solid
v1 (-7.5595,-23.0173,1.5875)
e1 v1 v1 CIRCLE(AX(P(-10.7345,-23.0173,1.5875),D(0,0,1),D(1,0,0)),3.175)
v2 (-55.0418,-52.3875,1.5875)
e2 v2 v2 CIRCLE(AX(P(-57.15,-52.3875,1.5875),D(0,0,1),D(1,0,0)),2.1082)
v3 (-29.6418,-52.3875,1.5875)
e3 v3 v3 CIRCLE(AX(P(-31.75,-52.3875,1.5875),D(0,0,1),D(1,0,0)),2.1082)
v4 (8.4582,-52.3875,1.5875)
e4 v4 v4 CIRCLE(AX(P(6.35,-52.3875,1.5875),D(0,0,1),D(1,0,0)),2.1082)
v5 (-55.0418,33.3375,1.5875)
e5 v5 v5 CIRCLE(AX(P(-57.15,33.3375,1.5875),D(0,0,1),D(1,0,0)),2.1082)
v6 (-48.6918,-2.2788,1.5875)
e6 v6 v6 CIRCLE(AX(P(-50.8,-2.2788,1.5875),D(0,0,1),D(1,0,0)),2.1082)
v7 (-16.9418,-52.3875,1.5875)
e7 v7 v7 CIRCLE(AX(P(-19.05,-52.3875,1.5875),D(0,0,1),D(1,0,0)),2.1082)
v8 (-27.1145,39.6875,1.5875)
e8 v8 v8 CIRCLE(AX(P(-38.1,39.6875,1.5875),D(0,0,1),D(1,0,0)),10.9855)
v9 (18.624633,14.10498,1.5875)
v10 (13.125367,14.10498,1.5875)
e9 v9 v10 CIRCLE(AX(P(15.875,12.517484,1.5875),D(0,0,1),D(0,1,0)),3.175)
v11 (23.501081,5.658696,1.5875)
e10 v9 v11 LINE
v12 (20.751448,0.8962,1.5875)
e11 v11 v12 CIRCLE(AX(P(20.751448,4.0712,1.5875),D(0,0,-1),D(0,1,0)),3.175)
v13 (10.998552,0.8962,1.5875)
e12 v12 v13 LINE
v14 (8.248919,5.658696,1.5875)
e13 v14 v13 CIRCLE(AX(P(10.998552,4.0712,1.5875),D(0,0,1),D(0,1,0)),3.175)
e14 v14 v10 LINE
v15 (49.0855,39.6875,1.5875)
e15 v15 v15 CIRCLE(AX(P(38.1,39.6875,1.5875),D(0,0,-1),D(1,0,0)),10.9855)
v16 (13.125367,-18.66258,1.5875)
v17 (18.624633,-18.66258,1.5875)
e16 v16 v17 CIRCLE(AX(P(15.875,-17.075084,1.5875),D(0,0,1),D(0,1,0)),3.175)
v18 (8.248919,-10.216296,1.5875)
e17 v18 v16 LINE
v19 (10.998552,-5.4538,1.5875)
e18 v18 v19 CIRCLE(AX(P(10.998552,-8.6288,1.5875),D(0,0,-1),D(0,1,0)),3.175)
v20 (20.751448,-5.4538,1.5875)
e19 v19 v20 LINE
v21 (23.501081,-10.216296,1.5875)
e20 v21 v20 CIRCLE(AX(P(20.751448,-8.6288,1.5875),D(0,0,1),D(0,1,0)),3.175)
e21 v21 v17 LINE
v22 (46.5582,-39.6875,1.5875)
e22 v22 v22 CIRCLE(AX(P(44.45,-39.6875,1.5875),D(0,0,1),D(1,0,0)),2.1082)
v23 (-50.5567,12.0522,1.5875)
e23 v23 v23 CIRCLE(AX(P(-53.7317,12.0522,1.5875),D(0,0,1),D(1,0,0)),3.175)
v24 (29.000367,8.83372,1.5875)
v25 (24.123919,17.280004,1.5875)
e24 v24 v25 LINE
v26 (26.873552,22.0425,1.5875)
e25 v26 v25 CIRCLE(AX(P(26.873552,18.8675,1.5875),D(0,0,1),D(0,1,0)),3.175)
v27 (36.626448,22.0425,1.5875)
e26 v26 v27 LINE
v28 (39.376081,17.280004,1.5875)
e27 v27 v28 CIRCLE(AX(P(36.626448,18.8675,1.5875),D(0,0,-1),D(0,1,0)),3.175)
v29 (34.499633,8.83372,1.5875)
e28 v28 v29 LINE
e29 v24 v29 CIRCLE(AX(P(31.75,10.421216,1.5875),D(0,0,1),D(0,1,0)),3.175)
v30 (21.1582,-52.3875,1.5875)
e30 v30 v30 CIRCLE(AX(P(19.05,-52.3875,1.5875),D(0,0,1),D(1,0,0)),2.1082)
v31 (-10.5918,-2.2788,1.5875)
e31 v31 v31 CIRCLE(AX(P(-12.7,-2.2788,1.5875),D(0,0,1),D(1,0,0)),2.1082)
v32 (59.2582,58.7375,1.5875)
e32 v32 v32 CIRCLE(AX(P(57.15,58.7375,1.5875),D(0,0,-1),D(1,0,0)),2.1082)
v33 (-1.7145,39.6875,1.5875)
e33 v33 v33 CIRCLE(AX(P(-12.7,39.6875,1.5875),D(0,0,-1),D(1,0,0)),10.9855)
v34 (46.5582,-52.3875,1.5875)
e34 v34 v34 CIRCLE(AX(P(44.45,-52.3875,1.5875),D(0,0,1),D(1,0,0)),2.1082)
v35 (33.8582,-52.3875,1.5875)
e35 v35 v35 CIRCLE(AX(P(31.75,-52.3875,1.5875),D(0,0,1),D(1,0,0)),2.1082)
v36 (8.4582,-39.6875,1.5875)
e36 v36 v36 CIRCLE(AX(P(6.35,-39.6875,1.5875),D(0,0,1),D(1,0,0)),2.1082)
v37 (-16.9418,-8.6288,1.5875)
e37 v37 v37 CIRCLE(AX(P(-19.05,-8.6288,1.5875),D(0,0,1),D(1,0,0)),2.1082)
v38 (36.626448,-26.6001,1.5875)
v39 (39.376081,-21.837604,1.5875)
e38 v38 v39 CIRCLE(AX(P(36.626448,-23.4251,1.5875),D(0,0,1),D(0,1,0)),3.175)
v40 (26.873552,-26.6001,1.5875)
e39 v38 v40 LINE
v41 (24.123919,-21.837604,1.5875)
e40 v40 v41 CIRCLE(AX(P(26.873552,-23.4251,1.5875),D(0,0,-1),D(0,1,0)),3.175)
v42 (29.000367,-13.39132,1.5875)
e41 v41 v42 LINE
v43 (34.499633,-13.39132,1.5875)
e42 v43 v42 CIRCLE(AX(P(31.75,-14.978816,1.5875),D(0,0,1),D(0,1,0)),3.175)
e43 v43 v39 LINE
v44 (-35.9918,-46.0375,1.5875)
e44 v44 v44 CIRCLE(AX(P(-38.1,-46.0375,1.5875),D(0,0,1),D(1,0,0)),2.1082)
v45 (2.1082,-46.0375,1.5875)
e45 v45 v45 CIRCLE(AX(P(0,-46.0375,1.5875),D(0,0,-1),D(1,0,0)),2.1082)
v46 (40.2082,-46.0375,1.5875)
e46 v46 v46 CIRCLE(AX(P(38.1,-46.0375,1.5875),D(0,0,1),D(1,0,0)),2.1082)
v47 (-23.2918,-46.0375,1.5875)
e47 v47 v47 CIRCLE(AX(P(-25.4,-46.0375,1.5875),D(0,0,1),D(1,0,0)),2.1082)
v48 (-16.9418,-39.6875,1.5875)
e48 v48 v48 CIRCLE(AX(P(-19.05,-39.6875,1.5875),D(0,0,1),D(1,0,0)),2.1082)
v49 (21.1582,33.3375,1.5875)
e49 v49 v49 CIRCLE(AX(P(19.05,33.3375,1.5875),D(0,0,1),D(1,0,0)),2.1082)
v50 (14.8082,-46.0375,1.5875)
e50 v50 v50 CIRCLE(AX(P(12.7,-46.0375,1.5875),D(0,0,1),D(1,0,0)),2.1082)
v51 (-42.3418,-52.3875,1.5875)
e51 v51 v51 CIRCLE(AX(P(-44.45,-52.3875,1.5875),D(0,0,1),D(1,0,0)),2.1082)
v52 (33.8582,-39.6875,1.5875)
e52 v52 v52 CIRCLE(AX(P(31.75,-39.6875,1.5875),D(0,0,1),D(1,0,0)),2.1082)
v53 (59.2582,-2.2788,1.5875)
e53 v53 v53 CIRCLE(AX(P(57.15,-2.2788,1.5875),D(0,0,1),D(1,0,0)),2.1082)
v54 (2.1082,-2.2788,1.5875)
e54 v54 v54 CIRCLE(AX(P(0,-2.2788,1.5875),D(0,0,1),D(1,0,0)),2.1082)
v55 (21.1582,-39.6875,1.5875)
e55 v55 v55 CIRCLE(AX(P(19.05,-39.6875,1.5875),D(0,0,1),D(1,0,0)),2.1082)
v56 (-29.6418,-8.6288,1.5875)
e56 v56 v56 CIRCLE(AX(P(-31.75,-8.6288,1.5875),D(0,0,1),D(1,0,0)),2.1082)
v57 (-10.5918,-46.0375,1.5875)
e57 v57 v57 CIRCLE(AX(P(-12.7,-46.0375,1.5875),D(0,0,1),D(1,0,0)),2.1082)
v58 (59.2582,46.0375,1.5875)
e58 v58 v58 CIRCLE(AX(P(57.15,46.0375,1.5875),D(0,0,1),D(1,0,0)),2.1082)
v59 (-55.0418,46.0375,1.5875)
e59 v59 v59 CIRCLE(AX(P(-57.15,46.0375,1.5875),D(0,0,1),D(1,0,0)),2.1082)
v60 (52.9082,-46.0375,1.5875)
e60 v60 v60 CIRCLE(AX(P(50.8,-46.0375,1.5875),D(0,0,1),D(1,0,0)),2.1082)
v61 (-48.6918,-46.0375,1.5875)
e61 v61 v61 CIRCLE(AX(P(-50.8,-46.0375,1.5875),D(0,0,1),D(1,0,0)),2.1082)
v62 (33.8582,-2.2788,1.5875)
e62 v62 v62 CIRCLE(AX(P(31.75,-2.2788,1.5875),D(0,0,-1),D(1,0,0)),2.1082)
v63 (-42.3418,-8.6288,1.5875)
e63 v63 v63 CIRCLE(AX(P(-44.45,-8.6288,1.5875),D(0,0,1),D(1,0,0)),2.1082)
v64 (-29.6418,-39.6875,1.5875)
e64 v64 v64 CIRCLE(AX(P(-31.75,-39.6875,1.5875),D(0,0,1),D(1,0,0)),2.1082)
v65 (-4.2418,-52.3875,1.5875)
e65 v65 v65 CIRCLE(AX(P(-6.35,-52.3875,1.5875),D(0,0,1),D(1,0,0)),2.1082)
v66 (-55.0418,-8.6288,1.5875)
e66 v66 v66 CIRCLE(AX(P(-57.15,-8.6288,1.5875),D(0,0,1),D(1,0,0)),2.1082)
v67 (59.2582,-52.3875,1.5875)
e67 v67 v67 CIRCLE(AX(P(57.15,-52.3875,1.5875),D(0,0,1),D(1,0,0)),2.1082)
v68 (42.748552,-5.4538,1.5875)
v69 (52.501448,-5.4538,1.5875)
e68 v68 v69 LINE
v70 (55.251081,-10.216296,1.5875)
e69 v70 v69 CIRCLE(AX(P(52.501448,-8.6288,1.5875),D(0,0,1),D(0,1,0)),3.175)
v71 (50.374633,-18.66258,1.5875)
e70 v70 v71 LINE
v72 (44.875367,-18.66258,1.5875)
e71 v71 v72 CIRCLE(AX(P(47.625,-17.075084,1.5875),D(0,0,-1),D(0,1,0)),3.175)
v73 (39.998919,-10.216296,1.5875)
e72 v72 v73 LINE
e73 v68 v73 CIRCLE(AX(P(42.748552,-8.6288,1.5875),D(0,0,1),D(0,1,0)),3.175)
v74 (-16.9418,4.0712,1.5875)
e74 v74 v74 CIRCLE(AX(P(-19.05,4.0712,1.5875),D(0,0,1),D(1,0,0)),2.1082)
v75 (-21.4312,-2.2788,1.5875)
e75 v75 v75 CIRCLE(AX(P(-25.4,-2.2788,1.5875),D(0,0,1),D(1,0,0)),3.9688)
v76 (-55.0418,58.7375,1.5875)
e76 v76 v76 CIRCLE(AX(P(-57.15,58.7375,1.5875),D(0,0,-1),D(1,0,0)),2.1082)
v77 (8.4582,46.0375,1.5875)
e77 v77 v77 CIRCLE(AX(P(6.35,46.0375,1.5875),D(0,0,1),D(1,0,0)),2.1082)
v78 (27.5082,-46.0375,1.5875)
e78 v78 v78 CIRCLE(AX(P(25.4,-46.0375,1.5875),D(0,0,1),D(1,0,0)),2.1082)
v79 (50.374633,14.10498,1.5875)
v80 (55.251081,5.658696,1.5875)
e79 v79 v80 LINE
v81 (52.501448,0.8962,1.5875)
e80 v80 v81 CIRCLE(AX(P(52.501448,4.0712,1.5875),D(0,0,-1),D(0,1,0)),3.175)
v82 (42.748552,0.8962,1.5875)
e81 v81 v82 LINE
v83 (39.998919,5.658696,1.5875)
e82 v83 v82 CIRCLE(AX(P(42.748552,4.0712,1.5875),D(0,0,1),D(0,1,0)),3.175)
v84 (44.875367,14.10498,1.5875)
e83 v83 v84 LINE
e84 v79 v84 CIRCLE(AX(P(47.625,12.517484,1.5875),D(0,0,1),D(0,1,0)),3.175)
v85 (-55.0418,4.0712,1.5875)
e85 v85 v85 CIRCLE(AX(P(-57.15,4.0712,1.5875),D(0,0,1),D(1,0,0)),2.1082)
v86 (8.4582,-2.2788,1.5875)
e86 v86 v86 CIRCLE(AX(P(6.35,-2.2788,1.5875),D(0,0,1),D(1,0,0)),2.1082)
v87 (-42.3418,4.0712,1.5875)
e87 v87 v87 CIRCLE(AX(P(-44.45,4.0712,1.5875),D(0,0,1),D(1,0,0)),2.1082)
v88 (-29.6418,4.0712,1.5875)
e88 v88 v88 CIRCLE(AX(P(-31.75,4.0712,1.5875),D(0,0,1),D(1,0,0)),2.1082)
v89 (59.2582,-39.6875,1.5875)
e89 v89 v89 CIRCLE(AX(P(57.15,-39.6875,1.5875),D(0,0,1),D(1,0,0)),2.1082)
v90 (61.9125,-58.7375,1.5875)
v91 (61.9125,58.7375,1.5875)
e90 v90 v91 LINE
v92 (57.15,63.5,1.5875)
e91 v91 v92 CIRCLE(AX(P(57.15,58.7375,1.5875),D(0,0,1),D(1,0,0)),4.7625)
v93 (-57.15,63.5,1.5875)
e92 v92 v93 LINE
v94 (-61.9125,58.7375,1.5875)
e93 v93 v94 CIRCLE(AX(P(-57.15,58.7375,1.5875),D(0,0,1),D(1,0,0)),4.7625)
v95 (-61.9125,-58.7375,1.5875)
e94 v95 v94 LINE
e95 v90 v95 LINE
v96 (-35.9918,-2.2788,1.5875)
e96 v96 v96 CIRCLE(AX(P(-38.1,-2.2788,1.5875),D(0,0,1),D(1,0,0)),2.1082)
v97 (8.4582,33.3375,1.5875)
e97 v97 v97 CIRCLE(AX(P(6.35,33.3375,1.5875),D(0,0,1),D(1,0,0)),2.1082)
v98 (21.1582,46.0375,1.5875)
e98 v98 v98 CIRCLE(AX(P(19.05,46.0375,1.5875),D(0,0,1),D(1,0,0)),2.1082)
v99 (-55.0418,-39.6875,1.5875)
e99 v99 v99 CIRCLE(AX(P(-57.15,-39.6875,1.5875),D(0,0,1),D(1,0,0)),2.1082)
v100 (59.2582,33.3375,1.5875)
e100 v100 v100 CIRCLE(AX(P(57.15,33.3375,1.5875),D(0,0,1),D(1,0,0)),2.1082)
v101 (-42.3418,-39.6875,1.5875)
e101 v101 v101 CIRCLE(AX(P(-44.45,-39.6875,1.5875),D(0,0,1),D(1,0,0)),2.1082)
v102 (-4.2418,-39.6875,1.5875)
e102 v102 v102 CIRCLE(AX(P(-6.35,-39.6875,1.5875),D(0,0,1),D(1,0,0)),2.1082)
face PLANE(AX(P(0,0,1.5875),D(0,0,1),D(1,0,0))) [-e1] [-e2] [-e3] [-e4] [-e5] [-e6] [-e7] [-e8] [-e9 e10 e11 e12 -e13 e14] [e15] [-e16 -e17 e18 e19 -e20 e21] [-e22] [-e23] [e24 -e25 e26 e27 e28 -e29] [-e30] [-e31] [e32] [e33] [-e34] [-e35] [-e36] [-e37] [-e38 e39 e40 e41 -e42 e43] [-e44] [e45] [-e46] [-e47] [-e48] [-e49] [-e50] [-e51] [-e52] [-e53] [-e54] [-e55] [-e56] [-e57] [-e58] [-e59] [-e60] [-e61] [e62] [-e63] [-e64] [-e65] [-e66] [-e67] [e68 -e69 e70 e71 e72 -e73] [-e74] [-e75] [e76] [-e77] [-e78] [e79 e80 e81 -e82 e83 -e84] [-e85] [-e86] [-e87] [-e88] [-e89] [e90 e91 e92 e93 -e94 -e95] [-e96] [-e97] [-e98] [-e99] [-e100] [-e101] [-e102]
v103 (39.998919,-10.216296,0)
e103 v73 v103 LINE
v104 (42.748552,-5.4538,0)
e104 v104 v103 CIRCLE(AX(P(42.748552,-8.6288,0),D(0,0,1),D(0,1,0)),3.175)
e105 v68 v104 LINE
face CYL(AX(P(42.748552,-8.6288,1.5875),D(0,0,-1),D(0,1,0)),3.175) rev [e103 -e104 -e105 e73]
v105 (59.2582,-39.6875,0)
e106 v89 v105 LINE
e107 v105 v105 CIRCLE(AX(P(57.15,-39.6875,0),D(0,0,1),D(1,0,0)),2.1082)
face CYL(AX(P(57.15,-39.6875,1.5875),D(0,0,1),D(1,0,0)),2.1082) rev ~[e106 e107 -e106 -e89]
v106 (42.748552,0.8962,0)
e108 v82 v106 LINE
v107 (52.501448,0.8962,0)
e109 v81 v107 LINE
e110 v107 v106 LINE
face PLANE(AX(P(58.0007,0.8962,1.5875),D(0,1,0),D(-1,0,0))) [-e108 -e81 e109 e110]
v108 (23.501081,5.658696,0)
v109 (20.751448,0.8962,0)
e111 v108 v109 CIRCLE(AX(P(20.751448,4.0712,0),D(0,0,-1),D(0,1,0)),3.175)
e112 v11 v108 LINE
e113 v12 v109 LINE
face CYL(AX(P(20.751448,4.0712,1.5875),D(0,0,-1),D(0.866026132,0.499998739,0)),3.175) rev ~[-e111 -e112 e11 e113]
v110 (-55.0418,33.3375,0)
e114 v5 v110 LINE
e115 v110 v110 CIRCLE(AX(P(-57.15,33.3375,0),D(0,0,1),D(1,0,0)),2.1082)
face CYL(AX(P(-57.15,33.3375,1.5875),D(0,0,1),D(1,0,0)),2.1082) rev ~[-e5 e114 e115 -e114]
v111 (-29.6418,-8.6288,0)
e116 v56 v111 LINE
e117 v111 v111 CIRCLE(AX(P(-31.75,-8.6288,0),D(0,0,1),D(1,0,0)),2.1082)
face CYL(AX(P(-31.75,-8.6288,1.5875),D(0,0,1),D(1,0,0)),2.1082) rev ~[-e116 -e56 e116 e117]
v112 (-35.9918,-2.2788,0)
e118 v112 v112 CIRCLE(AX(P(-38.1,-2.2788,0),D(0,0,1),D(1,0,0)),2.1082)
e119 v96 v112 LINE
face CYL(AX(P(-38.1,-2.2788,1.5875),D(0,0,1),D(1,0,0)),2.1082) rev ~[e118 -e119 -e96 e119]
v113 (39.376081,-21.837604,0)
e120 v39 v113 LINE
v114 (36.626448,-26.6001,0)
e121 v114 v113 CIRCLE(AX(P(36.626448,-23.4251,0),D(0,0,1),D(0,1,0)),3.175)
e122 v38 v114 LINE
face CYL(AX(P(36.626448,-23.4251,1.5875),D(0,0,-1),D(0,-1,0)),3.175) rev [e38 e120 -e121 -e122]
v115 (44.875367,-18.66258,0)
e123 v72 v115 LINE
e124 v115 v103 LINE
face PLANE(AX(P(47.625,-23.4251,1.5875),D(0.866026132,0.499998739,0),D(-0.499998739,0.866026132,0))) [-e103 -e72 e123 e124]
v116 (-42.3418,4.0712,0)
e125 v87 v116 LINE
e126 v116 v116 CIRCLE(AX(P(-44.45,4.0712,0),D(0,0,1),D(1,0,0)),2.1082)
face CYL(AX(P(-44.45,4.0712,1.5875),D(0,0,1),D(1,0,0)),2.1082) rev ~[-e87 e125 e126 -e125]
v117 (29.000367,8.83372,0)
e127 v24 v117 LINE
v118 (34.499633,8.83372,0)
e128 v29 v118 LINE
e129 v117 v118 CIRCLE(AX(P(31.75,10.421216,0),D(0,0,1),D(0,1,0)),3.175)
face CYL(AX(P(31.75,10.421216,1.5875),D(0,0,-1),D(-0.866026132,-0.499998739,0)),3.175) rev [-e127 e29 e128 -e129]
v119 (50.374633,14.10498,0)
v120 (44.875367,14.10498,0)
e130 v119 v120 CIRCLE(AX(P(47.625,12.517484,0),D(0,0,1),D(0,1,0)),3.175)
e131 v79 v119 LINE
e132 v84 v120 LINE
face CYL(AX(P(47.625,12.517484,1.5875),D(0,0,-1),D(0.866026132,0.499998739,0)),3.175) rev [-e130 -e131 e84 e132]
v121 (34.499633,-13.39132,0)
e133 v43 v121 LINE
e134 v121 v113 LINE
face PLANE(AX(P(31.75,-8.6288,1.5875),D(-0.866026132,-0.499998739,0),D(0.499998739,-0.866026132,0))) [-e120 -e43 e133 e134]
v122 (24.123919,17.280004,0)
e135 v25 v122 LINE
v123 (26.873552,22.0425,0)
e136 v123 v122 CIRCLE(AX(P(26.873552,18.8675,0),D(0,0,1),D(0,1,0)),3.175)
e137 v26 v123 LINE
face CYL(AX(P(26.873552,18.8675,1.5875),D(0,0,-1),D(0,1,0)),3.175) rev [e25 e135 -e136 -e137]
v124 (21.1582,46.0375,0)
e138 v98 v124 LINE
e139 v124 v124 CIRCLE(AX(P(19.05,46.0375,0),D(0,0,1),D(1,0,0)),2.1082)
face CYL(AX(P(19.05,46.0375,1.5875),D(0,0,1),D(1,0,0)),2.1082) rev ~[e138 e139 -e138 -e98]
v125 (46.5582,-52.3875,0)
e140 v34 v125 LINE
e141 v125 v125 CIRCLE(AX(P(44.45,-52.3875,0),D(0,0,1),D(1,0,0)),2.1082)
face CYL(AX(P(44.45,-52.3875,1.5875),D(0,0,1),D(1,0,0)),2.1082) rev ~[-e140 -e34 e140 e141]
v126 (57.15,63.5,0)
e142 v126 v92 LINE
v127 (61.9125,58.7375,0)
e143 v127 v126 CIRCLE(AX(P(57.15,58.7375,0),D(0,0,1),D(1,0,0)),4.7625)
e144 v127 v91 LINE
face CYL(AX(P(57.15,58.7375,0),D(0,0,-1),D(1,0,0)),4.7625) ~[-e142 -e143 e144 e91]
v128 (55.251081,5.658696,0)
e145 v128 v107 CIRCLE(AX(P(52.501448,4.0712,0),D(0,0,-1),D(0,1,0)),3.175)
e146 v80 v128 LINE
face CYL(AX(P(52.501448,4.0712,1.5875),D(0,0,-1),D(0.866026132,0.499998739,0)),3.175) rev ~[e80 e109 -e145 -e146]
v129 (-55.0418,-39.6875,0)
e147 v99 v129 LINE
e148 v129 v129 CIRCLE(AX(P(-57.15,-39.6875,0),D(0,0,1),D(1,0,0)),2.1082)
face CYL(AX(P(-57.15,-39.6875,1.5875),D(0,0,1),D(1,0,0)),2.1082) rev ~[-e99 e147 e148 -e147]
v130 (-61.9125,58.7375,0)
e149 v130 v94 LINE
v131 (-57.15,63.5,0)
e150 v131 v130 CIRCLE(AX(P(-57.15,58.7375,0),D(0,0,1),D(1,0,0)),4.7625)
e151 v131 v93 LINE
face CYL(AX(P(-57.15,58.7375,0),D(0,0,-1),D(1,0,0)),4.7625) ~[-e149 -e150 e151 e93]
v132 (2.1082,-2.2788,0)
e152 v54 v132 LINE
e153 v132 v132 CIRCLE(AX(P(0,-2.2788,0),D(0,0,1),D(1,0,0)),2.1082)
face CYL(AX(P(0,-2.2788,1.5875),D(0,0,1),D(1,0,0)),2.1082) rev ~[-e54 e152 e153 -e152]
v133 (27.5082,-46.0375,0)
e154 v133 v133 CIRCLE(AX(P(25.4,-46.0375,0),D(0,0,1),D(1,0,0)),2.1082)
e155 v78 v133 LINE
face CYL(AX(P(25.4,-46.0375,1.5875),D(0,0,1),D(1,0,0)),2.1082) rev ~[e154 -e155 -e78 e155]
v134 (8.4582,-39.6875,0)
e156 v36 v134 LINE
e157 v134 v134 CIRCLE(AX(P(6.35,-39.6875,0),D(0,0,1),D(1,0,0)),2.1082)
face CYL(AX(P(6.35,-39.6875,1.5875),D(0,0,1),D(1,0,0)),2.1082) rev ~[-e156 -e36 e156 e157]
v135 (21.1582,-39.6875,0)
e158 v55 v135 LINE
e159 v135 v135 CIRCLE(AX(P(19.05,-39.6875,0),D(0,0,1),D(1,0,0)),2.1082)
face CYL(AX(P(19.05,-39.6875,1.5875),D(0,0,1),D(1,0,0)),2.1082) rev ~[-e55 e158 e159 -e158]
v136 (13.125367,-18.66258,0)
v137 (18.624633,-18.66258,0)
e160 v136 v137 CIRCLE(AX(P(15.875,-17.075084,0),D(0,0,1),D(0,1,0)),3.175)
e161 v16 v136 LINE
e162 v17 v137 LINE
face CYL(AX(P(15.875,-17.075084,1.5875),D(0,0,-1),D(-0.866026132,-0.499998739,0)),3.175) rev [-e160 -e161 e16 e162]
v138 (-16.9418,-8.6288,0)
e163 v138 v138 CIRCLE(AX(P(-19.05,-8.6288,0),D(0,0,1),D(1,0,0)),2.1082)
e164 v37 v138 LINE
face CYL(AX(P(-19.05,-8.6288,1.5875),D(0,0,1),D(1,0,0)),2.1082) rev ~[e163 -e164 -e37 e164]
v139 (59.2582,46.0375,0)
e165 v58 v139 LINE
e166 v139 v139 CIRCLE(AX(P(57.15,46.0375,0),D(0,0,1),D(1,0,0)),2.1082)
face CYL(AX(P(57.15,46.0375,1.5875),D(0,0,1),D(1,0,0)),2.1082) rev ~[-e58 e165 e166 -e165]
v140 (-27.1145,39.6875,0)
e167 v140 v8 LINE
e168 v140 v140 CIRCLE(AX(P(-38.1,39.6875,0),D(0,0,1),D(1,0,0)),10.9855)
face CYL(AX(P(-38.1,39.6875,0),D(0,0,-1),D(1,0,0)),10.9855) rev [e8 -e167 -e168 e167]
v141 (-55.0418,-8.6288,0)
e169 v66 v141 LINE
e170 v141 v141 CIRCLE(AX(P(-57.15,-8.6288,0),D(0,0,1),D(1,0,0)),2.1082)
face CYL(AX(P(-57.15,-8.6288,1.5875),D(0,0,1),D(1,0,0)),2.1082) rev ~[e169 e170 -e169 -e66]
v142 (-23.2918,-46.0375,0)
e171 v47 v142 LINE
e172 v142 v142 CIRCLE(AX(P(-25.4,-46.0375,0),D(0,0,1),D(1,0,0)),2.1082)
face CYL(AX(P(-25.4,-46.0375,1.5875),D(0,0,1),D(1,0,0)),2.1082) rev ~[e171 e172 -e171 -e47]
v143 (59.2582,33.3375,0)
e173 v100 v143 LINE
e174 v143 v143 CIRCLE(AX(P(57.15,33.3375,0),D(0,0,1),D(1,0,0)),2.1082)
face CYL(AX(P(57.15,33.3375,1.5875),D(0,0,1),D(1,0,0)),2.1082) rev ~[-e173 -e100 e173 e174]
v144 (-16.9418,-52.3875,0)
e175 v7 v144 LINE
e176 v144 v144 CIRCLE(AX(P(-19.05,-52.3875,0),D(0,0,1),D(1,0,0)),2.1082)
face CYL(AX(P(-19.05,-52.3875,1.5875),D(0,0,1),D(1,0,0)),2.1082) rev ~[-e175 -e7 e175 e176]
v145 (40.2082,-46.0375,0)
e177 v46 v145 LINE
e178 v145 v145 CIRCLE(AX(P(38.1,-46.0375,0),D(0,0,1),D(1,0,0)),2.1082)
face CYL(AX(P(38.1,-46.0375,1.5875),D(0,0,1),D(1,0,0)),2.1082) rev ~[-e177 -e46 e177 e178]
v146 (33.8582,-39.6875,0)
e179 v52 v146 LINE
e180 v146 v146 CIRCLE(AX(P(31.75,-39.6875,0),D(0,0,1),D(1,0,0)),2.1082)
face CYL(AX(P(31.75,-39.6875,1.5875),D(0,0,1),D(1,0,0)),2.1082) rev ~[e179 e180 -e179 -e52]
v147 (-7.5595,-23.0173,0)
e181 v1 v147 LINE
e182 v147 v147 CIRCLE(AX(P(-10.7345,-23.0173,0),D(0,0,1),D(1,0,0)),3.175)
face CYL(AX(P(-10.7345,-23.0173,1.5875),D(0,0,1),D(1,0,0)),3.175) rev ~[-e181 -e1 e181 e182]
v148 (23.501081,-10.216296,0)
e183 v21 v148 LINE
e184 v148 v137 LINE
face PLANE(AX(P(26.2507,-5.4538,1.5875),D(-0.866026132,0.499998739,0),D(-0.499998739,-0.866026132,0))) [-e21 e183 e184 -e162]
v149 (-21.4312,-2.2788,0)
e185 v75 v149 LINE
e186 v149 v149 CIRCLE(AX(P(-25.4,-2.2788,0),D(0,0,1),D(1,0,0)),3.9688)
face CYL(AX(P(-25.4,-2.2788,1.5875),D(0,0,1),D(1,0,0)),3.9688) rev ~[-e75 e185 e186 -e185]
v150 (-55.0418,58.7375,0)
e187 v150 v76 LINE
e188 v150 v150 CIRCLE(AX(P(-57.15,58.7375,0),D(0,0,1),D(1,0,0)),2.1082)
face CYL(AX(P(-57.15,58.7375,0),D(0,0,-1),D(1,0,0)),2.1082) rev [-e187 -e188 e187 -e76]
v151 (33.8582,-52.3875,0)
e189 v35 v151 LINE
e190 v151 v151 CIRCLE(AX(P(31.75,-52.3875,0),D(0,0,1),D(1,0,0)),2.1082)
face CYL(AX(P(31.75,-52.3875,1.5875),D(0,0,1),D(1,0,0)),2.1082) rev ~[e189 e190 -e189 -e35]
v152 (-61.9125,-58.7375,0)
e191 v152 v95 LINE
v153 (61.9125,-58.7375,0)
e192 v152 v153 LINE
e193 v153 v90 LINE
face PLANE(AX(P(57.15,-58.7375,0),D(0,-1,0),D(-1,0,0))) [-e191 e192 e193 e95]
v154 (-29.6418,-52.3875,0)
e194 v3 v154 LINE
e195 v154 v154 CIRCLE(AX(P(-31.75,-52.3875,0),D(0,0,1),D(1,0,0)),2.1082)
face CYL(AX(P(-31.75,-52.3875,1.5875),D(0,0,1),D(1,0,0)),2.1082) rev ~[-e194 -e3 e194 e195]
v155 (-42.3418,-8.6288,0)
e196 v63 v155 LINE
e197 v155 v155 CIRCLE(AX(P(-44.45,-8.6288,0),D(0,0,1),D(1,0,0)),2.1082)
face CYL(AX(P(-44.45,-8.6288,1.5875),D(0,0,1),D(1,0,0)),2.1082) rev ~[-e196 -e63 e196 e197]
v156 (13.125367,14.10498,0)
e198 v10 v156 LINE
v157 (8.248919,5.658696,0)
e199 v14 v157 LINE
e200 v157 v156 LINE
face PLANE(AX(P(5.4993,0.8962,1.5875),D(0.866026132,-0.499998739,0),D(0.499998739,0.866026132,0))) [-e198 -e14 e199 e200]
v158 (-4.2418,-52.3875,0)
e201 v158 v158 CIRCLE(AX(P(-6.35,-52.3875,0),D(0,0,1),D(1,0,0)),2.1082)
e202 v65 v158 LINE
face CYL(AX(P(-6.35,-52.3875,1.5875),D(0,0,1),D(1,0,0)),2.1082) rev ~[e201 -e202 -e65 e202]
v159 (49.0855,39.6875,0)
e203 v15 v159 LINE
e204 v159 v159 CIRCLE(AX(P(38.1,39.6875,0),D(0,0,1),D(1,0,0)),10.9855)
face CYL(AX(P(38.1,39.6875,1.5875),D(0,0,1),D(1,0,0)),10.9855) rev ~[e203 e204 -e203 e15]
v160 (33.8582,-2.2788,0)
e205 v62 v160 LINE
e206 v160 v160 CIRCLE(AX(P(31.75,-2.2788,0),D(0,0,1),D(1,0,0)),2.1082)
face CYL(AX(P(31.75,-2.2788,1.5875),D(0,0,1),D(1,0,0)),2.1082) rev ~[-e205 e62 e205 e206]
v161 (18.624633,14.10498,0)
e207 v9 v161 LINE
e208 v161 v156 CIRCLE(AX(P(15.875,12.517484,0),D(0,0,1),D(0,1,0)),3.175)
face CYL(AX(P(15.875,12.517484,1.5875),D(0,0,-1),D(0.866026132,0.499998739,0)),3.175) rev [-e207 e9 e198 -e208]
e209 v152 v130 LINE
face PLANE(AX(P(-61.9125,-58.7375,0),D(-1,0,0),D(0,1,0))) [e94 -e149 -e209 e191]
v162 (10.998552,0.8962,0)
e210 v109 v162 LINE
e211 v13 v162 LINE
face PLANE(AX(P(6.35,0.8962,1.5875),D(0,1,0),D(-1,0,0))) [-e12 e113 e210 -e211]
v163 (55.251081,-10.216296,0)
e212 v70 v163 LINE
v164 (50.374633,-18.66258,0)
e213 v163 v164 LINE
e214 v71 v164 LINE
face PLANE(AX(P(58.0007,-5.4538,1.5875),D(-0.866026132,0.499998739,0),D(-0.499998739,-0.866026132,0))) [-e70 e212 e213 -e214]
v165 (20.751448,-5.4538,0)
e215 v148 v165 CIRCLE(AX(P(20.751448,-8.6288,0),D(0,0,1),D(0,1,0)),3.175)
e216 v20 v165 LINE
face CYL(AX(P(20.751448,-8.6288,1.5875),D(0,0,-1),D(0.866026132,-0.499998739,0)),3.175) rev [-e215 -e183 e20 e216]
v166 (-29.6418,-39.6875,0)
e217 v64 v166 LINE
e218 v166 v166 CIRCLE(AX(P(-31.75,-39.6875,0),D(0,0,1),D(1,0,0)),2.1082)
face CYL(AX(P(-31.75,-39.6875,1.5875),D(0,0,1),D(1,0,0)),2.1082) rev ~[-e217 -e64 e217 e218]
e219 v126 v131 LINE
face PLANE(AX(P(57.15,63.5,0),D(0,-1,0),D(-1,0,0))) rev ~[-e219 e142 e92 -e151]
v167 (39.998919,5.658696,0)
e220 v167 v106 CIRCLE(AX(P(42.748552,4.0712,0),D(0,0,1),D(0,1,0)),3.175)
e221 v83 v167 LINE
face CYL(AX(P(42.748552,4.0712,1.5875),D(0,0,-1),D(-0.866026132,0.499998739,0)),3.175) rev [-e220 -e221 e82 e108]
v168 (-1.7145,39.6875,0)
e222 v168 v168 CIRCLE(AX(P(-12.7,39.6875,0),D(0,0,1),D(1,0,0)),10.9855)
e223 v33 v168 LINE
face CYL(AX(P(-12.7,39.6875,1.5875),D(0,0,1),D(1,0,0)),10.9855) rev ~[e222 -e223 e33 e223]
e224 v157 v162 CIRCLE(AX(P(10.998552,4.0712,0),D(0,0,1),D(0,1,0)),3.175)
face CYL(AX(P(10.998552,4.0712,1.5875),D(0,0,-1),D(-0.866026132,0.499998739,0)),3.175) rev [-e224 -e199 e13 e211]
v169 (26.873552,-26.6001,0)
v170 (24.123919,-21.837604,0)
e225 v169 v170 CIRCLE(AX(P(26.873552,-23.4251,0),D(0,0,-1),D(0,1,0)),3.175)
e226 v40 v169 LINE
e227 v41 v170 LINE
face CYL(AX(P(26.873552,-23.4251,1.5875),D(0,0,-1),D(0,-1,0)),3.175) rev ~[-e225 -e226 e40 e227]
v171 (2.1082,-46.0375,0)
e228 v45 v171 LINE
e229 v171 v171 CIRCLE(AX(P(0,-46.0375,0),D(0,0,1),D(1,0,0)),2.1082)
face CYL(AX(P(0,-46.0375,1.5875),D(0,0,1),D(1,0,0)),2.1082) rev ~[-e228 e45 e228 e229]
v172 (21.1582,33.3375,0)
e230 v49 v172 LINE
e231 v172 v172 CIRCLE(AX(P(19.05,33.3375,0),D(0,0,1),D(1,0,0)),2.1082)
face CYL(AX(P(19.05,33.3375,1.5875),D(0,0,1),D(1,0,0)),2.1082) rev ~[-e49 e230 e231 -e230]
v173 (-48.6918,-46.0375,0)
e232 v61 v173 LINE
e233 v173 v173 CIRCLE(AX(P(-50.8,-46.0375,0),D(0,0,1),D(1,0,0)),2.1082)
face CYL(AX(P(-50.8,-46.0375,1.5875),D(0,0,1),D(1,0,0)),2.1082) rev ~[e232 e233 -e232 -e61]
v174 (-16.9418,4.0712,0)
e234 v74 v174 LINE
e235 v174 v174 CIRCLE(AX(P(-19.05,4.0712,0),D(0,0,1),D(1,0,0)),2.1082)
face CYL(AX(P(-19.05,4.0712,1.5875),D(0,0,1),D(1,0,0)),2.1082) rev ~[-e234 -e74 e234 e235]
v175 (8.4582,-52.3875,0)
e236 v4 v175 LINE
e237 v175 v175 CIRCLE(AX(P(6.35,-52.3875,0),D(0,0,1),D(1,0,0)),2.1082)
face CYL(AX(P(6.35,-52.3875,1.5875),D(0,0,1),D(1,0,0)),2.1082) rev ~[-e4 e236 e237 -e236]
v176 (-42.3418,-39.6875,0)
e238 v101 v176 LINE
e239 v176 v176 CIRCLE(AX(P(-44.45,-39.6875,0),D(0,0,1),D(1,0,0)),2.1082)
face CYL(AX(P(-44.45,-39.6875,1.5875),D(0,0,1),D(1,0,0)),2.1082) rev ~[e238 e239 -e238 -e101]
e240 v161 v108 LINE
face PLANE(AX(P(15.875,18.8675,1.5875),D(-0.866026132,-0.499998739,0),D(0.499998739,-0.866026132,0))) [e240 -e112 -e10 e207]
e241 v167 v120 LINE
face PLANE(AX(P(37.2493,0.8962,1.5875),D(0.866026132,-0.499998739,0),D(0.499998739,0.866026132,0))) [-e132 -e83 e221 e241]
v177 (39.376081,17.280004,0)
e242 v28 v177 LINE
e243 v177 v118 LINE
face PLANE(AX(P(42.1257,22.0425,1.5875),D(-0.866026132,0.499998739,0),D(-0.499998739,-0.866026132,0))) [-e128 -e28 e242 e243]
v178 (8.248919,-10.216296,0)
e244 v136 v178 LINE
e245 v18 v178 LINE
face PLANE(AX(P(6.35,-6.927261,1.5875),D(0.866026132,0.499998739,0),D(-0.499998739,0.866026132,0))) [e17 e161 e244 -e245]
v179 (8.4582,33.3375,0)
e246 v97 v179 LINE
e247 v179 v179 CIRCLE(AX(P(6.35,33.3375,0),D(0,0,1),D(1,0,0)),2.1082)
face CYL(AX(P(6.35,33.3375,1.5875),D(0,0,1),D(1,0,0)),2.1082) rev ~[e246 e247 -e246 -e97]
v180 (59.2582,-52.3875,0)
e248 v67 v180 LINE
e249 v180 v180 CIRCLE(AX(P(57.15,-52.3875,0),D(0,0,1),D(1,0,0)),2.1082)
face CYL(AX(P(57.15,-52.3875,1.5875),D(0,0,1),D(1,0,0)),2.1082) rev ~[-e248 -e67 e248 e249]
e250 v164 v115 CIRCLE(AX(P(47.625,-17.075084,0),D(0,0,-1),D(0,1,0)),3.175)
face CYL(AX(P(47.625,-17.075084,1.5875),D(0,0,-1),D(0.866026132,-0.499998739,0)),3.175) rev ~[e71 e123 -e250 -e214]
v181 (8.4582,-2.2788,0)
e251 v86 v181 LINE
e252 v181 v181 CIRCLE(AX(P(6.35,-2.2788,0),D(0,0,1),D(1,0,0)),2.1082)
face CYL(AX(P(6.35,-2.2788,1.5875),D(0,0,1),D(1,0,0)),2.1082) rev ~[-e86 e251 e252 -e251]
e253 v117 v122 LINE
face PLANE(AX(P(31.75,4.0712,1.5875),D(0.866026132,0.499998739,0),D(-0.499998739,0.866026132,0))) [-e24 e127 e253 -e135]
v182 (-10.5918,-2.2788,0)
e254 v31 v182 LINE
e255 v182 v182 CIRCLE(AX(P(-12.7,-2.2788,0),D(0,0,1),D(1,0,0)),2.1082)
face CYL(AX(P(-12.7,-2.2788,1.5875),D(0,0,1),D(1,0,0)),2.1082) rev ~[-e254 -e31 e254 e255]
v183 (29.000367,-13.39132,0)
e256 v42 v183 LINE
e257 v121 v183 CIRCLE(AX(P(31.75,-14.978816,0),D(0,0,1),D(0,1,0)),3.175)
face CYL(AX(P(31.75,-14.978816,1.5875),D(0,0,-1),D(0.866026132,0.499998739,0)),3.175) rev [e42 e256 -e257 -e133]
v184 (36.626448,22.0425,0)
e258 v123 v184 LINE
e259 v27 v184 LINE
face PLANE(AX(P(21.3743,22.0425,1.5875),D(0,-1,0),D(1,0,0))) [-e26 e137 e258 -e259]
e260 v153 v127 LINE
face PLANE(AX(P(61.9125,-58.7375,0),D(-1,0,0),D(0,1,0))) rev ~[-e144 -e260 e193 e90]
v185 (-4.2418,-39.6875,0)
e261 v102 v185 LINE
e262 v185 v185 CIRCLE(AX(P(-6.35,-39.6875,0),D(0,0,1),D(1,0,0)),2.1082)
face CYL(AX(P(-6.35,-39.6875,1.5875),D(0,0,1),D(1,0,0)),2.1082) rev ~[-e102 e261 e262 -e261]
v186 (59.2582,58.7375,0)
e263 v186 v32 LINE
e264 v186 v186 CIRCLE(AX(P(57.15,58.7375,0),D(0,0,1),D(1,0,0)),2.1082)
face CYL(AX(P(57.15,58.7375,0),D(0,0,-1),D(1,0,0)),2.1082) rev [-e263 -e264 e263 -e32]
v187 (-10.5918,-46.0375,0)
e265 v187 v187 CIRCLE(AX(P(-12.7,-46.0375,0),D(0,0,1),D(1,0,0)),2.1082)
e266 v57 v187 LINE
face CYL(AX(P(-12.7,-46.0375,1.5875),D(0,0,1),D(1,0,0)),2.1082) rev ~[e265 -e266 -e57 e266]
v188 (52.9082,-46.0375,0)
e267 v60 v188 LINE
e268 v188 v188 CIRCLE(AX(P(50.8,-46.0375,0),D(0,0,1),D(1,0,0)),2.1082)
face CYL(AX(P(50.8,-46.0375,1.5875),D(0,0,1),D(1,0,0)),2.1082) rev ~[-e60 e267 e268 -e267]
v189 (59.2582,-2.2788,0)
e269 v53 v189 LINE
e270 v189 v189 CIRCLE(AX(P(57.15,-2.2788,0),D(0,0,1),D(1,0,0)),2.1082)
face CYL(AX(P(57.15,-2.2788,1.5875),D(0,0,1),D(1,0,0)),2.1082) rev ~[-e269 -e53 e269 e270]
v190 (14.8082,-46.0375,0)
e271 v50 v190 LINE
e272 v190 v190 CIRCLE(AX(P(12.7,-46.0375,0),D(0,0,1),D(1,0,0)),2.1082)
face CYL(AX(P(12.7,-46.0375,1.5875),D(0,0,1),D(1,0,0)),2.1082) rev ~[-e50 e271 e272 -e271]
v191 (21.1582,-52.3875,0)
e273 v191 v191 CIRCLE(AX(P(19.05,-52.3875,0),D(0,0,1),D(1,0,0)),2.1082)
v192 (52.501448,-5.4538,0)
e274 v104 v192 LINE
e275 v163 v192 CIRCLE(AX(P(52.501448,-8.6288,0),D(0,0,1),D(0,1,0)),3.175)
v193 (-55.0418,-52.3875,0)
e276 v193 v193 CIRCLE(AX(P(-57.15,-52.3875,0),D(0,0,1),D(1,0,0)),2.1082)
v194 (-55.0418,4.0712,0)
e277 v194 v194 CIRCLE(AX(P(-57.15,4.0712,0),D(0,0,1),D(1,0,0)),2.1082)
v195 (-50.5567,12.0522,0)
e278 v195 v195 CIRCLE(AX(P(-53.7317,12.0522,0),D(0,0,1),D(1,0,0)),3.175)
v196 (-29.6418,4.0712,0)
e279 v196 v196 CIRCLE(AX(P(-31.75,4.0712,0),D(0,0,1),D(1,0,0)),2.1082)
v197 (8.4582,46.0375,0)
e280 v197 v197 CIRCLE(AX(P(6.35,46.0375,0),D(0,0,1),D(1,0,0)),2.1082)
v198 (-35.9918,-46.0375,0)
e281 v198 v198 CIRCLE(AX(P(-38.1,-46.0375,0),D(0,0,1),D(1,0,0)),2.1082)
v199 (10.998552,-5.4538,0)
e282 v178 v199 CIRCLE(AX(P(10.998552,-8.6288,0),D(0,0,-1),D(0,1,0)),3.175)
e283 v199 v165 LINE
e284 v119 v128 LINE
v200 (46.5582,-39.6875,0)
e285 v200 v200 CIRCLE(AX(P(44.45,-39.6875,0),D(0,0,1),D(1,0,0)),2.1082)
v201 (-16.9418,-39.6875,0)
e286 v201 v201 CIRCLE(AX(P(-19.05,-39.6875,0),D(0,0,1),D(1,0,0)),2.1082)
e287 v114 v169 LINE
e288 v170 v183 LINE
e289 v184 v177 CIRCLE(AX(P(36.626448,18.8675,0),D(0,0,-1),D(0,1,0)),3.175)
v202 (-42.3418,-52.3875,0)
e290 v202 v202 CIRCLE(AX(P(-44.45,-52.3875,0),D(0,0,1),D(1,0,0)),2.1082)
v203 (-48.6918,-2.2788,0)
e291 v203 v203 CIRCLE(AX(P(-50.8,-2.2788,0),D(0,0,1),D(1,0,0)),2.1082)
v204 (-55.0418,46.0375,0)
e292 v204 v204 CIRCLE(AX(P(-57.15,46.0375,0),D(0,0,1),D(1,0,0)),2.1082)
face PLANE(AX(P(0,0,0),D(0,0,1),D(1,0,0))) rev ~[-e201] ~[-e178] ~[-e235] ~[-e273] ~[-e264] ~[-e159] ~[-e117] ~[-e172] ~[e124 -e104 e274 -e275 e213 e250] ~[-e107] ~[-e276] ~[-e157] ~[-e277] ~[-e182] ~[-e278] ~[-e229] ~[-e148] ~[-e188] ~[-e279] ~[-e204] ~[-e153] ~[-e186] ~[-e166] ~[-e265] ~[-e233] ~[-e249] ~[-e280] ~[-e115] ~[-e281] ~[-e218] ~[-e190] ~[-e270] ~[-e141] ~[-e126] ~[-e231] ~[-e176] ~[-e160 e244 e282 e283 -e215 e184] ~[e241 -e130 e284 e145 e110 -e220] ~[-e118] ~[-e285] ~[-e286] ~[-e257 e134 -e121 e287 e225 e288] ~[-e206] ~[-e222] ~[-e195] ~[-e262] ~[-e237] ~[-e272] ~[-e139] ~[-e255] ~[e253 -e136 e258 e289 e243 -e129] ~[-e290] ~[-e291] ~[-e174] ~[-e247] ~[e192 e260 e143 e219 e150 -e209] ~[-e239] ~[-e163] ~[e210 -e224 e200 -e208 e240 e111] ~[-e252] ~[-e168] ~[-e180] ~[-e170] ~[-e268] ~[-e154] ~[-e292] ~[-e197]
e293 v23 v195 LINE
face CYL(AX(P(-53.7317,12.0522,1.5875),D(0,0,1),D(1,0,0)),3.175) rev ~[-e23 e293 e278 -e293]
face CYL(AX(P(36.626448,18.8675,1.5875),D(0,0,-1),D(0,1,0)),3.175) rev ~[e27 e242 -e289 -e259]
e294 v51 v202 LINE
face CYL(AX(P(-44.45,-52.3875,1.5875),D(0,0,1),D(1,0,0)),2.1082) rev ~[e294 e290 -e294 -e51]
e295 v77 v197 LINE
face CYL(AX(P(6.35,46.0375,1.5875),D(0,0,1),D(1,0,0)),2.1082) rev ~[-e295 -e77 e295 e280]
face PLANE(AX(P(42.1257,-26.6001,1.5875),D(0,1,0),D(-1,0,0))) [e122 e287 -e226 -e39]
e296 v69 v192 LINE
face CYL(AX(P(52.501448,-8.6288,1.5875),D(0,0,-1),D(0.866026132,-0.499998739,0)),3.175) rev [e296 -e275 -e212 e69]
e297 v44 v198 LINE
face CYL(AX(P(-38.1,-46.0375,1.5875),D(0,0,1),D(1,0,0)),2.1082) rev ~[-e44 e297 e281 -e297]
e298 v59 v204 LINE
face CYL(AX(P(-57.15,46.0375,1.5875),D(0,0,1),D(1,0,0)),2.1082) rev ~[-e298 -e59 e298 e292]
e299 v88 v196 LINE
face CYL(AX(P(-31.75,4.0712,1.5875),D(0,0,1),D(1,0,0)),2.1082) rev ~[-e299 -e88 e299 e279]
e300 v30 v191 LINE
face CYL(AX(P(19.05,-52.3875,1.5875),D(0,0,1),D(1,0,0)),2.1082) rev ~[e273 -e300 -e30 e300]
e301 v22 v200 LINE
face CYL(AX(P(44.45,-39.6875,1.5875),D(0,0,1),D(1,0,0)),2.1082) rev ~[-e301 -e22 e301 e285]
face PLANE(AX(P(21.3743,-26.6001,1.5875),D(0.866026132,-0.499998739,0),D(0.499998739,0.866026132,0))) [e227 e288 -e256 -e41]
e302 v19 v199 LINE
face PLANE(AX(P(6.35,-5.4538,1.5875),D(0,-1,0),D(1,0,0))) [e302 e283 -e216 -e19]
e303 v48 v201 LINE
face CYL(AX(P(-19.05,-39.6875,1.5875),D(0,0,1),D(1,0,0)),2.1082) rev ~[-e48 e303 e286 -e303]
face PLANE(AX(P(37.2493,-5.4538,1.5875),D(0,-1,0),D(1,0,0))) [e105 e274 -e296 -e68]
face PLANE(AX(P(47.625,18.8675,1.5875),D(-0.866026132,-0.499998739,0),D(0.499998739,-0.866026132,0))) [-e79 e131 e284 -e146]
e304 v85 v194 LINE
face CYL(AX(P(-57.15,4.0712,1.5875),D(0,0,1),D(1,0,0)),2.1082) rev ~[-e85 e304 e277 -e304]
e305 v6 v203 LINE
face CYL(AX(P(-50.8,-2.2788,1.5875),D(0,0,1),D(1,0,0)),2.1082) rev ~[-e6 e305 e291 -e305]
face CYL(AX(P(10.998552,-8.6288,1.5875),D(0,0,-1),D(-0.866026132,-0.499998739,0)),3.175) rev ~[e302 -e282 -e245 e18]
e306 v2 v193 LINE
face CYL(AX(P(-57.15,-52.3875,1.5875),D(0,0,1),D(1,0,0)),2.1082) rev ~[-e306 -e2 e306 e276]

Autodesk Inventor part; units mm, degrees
ref_plane "YZ Plane" through (0, 0, 0) normal (1, 0, 0) x (0, 1, 0)
ref_plane "XZ Plane" through (0, 0, 0) normal (0, 1, 0) x (-1, 0, 0)
ref_plane "XY Plane" through (0, 0, 0) normal (0, 0, 1) x (1, 0, 0)
sketch "Sketch1" plane through (0, 0, 0) normal (0, 0, 1) x (1, 0, 0)
  line L0 (57.15, -58.7375) -> (-57.15, -58.7375)
  line L1 (-57.15, -58.7375) -> (-57.15, 58.7375)
  line L2 (-57.15, 58.7375) -> (57.15, 58.7375)
  line L3 (57.15, 58.7375) -> (57.15, -58.7375)
  line L4 (57.15, -58.7375) -> (-57.15, 58.7375) construction
  line L5 (-57.15, -58.7375) -> (57.15, 58.7375) construction
  line L6 (-57.15, 58.7375) -> (-19.05, 58.7375)
  line L7 (-19.05, 58.7375) -> (-19.05, 20.6375)
  line L8 (-19.05, 20.6375) -> (-57.15, 20.6375)
  line L9 (-57.15, 20.6375) -> (-57.15, 58.7375)
  circle A0 centre (-38.1, 39.6875) radius 19.05
  circle A1 centre (-57.15, 58.7375) radius 4.7625
  circle A2 centre (57.15, 58.7375) radius 4.7625
  line L10 (-57.15, -58.7375) -> (-61.9125, -58.7375)
  line L11 (-61.9125, -58.7375) -> (-61.9125, 58.7375)
  line L12 (57.15, -58.7375) -> (61.9125, -58.7375)
  line L13 (61.9125, -58.7375) -> (61.9125, 58.7375)
  line L14 (57.15, 63.5) -> (-57.15, 63.5)
  circle A3 centre (-38.1, 39.6875) radius 10.9855
  circle A4 centre (-57.15, 58.7375) radius 2.1082
  circle A5 centre (57.15, 58.7375) radius 2.1082
  point P0 (0, 0)
  dimension "d0" = 114.3
  dimension "d1" = 117.475
  dimension "d2" = 38.1
  dimension "d3" = 38.1
  dimension "d4" = 9.525
  dimension "d5" = 9.525
  dimension "d6" = 4.7625
  dimension "d7" = 4.7625
  dimension "d8" = 21.971
  dimension "d9" = 4.2164
  dimension "d10" = 4.2164
extrude "Extrusion1" add sketch "Sketch1" along normal blind 1.5875 contours L0 L1 L8 L7 L2 A2 L3 | L3 A2 L13 L12 | L10 L11 A1 L1 | A2 L2 A5 L3 | L3 A5 L2 A2 | L1 A0 L8 | L2 A1 L14 A2 | L1 A1 L2 A0 | A0 | A0 L7 L8 | A1 L2 A4 L1 | L7 A0 L2 | L1 A4 L2 A1
sketch "Sketch2" plane through (0, 0, 1.5875) normal (0, 0, 1) x (1, 0, 0)
  circle A0 centre (-38.1, 39.6875) radius 10.9855 projected
  line L0 (-38.1, 39.6875) -> (61.9125, 39.6875)
  line L1 (61.9125, -58.7375) -> (61.9125, 58.7375) projected
  circle A1 centre (-38.1, 39.6875) radius 6.35
  circle A2 centre (-12.7, 39.6875) radius 19.05
  circle A3 centre (38.1, 39.6875) radius 31.75
  circle A4 centre (-12.7, 39.6875) radius 10.9855
  circle A5 centre (38.1, 39.6875) radius 10.9855
  line L2 (-61.9125, 58.7375) -> (-61.9125, -58.7375) projected
  line L3 (-38.1, 39.6875) -> (-12.7, 39.6875)
  line L4 (57.15, 63.5) -> (-57.15, 63.5) projected
  line L5 (-61.9125, -58.7375) -> (61.9125, -58.7375) projected
  line L6 (0, -58.7375) -> (0, 63.5)
  circle A6 centre (0, -46.0375) radius 19.05
  circle A7 centre (0, -46.0375) radius 2.1082
  point P0 (0, 0)
  dimension "d13" = 12.7
  dimension "d14" = 38.1
  dimension "d15" = 63.5
  dimension "d16" = 21.971
  dimension "d17" = 21.971
  dimension "d21" = 38.1
  dimension "d22" = 12.7
  dimension "d23" = 4.2164
extrude "Extrusion2" cut sketch "Sketch2" against normal blind 1.5875 contours A4 L0 | L0 A4 | A5 L0 | L0 A5 | A7 L6 | L6 A7
sketch "Sketch10" plane through (0, 0, 1.5875) normal (0, 0, 1) x (1, 0, 0)
  circle A0 centre (0, -46.0375) radius 2.1082 projected
  circle A1 centre (0, -46.0375) radius 19.05
  line L0 (0, -46.0375) -> (-10.7345, -23.0173)
  circle A2 centre (-10.7345, -23.0173) radius 6.35
  line L1 (57.15, 63.5) -> (-57.15, 63.5) projected
  line L2 (-61.9125, -58.7375) -> (61.9125, -58.7375) projected
  line L3 (0, -58.7375) -> (0, 63.5)
  circle A3 centre (-25.4, -2.2788) radius 19.05
  line L4 (-25.4, 63.5) -> (-25.4, -58.7375)
  circle A4 centre (-38.1, 39.6875) radius 10.9855 projected
  circle A5 centre (-38.1, 39.6875) radius 19.05
  circle A6 centre (-53.7317, 12.0522) radius 12.7
  point P0 (0, 0)
  dimension "d121" = 38.1
  dimension "d122" = 25.4
  dimension "d123" = 25
  dimension "d124" = 38.1
  dimension "d125" = 25.4
  dimension "d126" = 38.1
  dimension "d127" = 25.4
sketch "Sketch11" plane through (0, 0, 1.5875) normal (0, 0, 1) x (1, 0, 0)
  circle A0 centre (-10.7345, -23.0173) radius 6.35 projected
  circle A1 centre (-25.4, -2.2788) radius 19.05 projected
  circle A2 centre (-53.7317, 12.0522) radius 12.7 projected
  circle A3 centre (-53.7317, 12.0522) radius 3.175
  circle A4 centre (-25.4, -2.2788) radius 3.9688
  circle A5 centre (-10.7345, -23.0173) radius 3.175
  point P0 (0, 0)
  dimension "d128" = 6.35
  dimension "d129" = 7.9375
  dimension "d130" = 6.35
extrude "Extrusion9" cut sketch "Sketch11" against normal blind 25.4 contours A3 | A4 | A5
sketch "Sketch12" plane through (0, 0, 1.5875) normal (0, 0, 1) x (1, 0, 0)
  circle A0 centre (57.15, -52.3875) radius 2.1082
  circle A1 centre (0, -46.0375) radius 2.1082 projected
  line L0 (-61.9125, -58.7375) -> (61.9125, -58.7375) projected
  line L1 (-61.9125, -58.7375) -> (61.9125, -58.7375) projected
  line L2 (61.9125, -58.7375) -> (61.9125, 58.7375) projected
  circle A2 centre (44.45, -52.3875) radius 2.1082
  circle A3 centre (31.75, -52.3875) radius 2.1082
  circle A4 centre (19.05, -52.3875) radius 2.1082
  circle A5 centre (6.35, -52.3875) radius 2.1082
  circle A6 centre (-6.35, -52.3875) radius 2.1082
  circle A7 centre (-19.05, -52.3875) radius 2.1082
  circle A8 centre (-31.75, -52.3875) radius 2.1082
  circle A9 centre (-44.45, -52.3875) radius 2.1082
  circle A10 centre (-57.15, -52.3875) radius 2.1082
  circle A11 centre (57.15, -39.6875) radius 2.1082
  circle A12 centre (44.45, -39.6875) radius 2.1082
  circle A13 centre (31.75, -39.6875) radius 2.1082
  circle A14 centre (19.05, -39.6875) radius 2.1082
  circle A15 centre (6.35, -39.6875) radius 2.1082
  circle A16 centre (-6.35, -39.6875) radius 2.1082
  circle A17 centre (-19.05, -39.6875) radius 2.1082
  circle A18 centre (-31.75, -39.6875) radius 2.1082
  circle A19 centre (-44.45, -39.6875) radius 2.1082
  circle A20 centre (-57.15, -39.6875) radius 2.1082
  point P0 (0, 0)
  dimension "d133" = 4.2164
  dimension "d134" = 6.35
  dimension "d135" = 57.15
  dimension "d138" = 12.7
  dimension "d141" = 12.7
extrude "Extrusion10" cut sketch "Sketch12" against normal blind 25.4
sketch "Sketch14" plane through (0, 0, 1.5875) normal (0, 0, 1) x (1, 0, 0)
  circle A0 centre (-25.4, -2.2788) radius 3.9687 projected
  circle A1 centre (-57.15, -8.6288) radius 2.1082
  line L0 (-61.9125, 58.7375) -> (-61.9125, -58.7375) projected
  line L1 (-61.9125, -58.7375) -> (61.9125, -58.7375) projected
  circle A2 centre (-57.15, 4.0712) radius 2.1082
  circle A3 centre (-44.45, -8.6288) radius 2.1082
  circle A4 centre (-44.45, 4.0712) radius 2.1082
  circle A5 centre (-31.75, -8.6288) radius 2.1082
  circle A6 centre (-31.75, 4.0712) radius 2.1082
  circle A7 centre (-19.05, -8.6288) radius 2.1082
  circle A8 centre (-19.05, 4.0712) radius 2.1082
  circle A9 centre (-6.35, -8.6288) radius 2.1082
  circle A10 centre (-6.35, 4.0712) radius 2.1082
  circle A11 centre (6.35, -8.6288) radius 2.1082
  circle A12 centre (6.35, 4.0712) radius 2.1082
  circle A13 centre (19.05, -8.6288) radius 2.1082
  circle A14 centre (19.05, 4.0712) radius 2.1082
  circle A15 centre (31.75, -8.6288) radius 2.1082
  circle A16 centre (31.75, 4.0712) radius 2.1082
  circle A17 centre (44.45, -8.6288) radius 2.1082
  circle A18 centre (44.45, 4.0712) radius 2.1082
  circle A19 centre (57.15, -8.6288) radius 2.1082
  circle A20 centre (57.15, 4.0712) radius 2.1082
  point P0 (0, 0)
  dimension "d159" = 4.2164
  dimension "d160" = 6.35
  dimension "d161" = 31.75
  dimension "d164" = 12.7
  dimension "d167" = 12.7
extrude "Extrusion12" cut sketch "Sketch14" against normal blind 25.4 contours A0 | A1 | A2 | A3 | A4 | A5 | A6 | A7 | A8
sketch "Sketch15" plane through (0, 0, 1.5875) normal (0, 0, 1) x (1, 0, 0)
  circle A0 centre (-57.15, 33.3375) radius 2.1082
  line L0 (57.15, 63.5) -> (-57.15, 63.5) projected
  line L1 (-61.9125, 58.7375) -> (-61.9125, -58.7375) projected
  circle A1 centre (-57.15, 46.0375) radius 2.1082
  circle A2 centre (-44.45, 33.3375) radius 2.1082
  circle A3 centre (-44.45, 46.0375) radius 2.1082
  circle A4 centre (-31.75, 33.3375) radius 2.1082
  circle A5 centre (-31.75, 46.0375) radius 2.1082
  circle A6 centre (-19.05, 33.3375) radius 2.1082
  circle A7 centre (-19.05, 46.0375) radius 2.1082
  circle A8 centre (-6.35, 33.3375) radius 2.1082
  circle A9 centre (-6.35, 46.0375) radius 2.1082
  circle A10 centre (6.35, 33.3375) radius 2.1082
  circle A11 centre (6.35, 46.0375) radius 2.1082
  circle A12 centre (19.05, 33.3375) radius 2.1082
  circle A13 centre (19.05, 46.0375) radius 2.1082
  circle A14 centre (31.75, 33.3375) radius 2.1082
  circle A15 centre (31.75, 46.0375) radius 2.1082
  circle A16 centre (44.45, 33.3375) radius 2.1082
  circle A17 centre (44.45, 46.0375) radius 2.1082
  circle A18 centre (57.15, 33.3375) radius 2.1082
  circle A19 centre (57.15, 46.0375) radius 2.1082
  point P0 (0, 0)
  point P1 (-38.1, 39.6875)
  dimension "d172" = 4.2164
  dimension "d173" = 6.35
  dimension "d174" = 19.05
  dimension "d177" = 12.7
  dimension "d180" = 12.7
extrude "Extrusion13" cut sketch "Sketch15" against normal blind 25.4 contours A0 | A1 | A10 | A11 | A12 | A13 | A18 | A19
sketch "Sketch16" plane through (0, 0, 1.5875) normal (0, 0, 1) x (1, 0, 0)
  circle A0 centre (-25.4, -2.2788) radius 2.1082
  circle A1 centre (0, -46.0375) radius 2.1082
  line L0 (-61.9125, -58.7375) -> (61.9125, -58.7375) projected
  circle A2 centre (12.7, -46.0375) radius 2.1082
  circle A3 centre (-12.7, -2.2788) radius 2.1082
  circle A4 centre (25.4, -46.0375) radius 2.1082
  circle A5 centre (0, -2.2788) radius 2.1082
  point P0 (0, 0)
  dimension "d185" = 4.2164
  dimension "d186" = 4.2164
  dimension "d189" = 12.7
extrude "Extrusion14" cut sketch "Sketch16" against normal blind 25.4 contours A2 | A3 | A4 | A5
sketch "Sketch17" plane through (0, 0, 1.5875) normal (0, 0, 1) x (1, 0, 0)
  circle A0 centre (0, -46.0375) radius 2.1082
  circle A1 centre (-25.4, -2.2788) radius 2.1082
  line L0 (-61.9125, 58.7375) -> (-61.9125, -58.7375) projected
  circle A2 centre (0, -46.0375) radius 19.05 projected
  line L1 (-61.9125, -58.7375) -> (61.9125, -58.7375) projected
  circle A3 centre (-38.1, -2.2788) radius 2.1082
  circle A4 centre (-50.8, -2.2788) radius 2.1082
  circle A5 centre (-12.7, -2.2788) radius 2.1082
  circle A6 centre (-25.4, -2.2788) radius 2.1082
  circle A7 centre (-38.1, -2.2788) radius 2.1082
  circle A8 centre (0, -2.2788) radius 2.1082
  circle A9 centre (-12.7, -2.2788) radius 2.1082
  circle A10 centre (-25.4, -2.2788) radius 2.1082
  circle A11 centre (12.7, -2.2788) radius 2.1082
  circle A12 centre (0, -2.2788) radius 2.1082
  circle A13 centre (-12.7, -2.2788) radius 2.1082
  circle A14 centre (25.4, -2.2788) radius 2.1082
  circle A15 centre (12.7, -2.2788) radius 2.1082
  circle A16 centre (0, -2.2788) radius 2.1082
  circle A17 centre (38.1, -2.2788) radius 2.1082
  circle A18 centre (25.4, -2.2788) radius 2.1082
  circle A19 centre (12.7, -2.2788) radius 2.1082
  circle A20 centre (50.8, -2.2788) radius 2.1082
  circle A21 centre (38.1, -2.2788) radius 2.1082
  circle A22 centre (25.4, -2.2788) radius 2.1082
  circle A23 centre (12.7, -46.0375) radius 2.1082
  circle A24 centre (25.4, -46.0375) radius 2.1082
  circle A25 centre (38.1, -46.0375) radius 2.1082
  circle A26 centre (50.8, -46.0375) radius 2.1082
  circle A27 centre (-12.7, -46.0375) radius 2.1082
  circle A28 centre (0, -46.0375) radius 2.1082
  circle A29 centre (12.7, -46.0375) radius 2.1082
  circle A30 centre (25.4, -46.0375) radius 2.1082
  circle A31 centre (38.1, -46.0375) radius 2.1082
  circle A32 centre (-25.4, -46.0375) radius 2.1082
  circle A33 centre (-12.7, -46.0375) radius 2.1082
  circle A34 centre (0, -46.0375) radius 2.1082
  circle A35 centre (12.7, -46.0375) radius 2.1082
  circle A36 centre (25.4, -46.0375) radius 2.1082
  circle A37 centre (-38.1, -46.0375) radius 2.1082
  circle A38 centre (-25.4, -46.0375) radius 2.1082
  circle A39 centre (-12.7, -46.0375) radius 2.1082
  circle A40 centre (0, -46.0375) radius 2.1082
  circle A41 centre (12.7, -46.0375) radius 2.1082
  circle A42 centre (-50.8, -46.0375) radius 2.1082
  circle A43 centre (-38.1, -46.0375) radius 2.1082
  circle A44 centre (-25.4, -46.0375) radius 2.1082
  circle A45 centre (-12.7, -46.0375) radius 2.1082
  circle A46 centre (0, -46.0375) radius 2.1082
  point P0 (0, 0)
  dimension "d196" = 4.2164
  dimension "d197" = 4.2164
  dimension "d200" = 12.7
  dimension "d203" = 12.7
  dimension "d208" = 12.7
  dimension "d211" = 12.7
extrude "Extrusion15" cut sketch "Sketch17" against normal blind 25.4 contours A3 | A4 | A25 | A26 | A27 | A32 | A37 | A42
sketch "Sketch20" plane through (0, 0, 1.5875) normal (0, 0, 1) x (1, 0, 0)
  circle A0 centre (0, -2.2788) radius 2.1082 projected
  circle A1 centre (57.15, 33.3375) radius 2.1082 projected
  line L0 (57.15, 63.5) -> (-57.15, 63.5) projected
  line L1 (-61.9125, -58.7375) -> (61.9125, -58.7375) projected
  line L2 (6.35, -58.7375) -> (6.35, 63.5)
  line L3 (61.9125, -58.7375) -> (61.9125, 58.7375) projected
  line L4 (0, -2.2788) -> (61.9125, -2.2788) construction
  circle A2 centre (31.75, -2.2788) radius 2.1082
  line L5 (31.75, -2.2788) -> (0, -2.2788)
  line L6 (31.75, -2.2788) -> (15.875, 25.2175)
  line L7 (0, -2.2788) -> (15.875, 25.2175)
  line L8 (15.875, 18.8675) -> (26.2507, 0.8962)
  line L9 (26.2507, 0.8962) -> (5.4993, 0.8962)
  line L10 (5.4993, 0.8962) -> (15.875, 18.8675)
  line L11 (5.4993, -5.4538) -> (26.2507, -5.4538)
  line L12 (26.2507, -5.4538) -> (15.875, -23.4251)
  line L13 (15.875, -23.4251) -> (5.4993, -5.4538)
  line L14 (21.3743, -26.6001) -> (31.75, -8.6288)
  line L15 (31.75, -8.6288) -> (42.1257, -26.6001)
  line L16 (42.1257, -26.6001) -> (21.3743, -26.6001)
  line L17 (47.625, -23.4251) -> (37.2493, -5.4538)
  line L18 (37.2493, -5.4538) -> (58.0007, -5.4538)
  line L19 (58.0007, -5.4538) -> (47.625, -23.4251)
  line L20 (58.0007, 0.8962) -> (37.2493, 0.8962)
  line L21 (37.2493, 0.8962) -> (47.625, 18.8675)
  line L22 (47.625, 18.8675) -> (58.0007, 0.8962)
  line L23 (42.1257, 22.0425) -> (31.75, 4.0712)
  line L24 (31.75, 4.0712) -> (21.3743, 22.0425)
  line L25 (21.3743, 22.0425) -> (42.1257, 22.0425)
  point P0 (0, 0)
  dimension "d240" = 6.35
  dimension "d242" = 4.2164
  dimension "d243" = 31.75
  dimension "d244" = 31.75
  dimension "d246" = 3.175
  dimension "d249" = 360
  dimension "d260" = 31.75
extrude "Extrusion17" cut sketch "Sketch20" against normal blind 25.4 contours L11 L12 L13 L2 | L2 L13 L11 | L9 L10 L2 | L2 L10 L8 L9 | L5 L6 A2 | A2 L6 L5 | L14 L15 L16 | L17 L18 L19 | L20 L21 L22 | L23 L24 L25
fillet "Fillet2" radius 3.175 3 edges at (58.0007, -5.4538, 0.7937) (37.2493, -5.4538, 0.7937) (47.625, -23.4251, 0.7937)
pattern_circular "Circular Pattern2" count 6 over 360 about axis through (31.75, -2.2788, 1.5875) along (0, 0, -1) of "Fillet2"
sketch "Sketch21" plane through (0, 0, 1.5875) normal (0, 0, 1) x (1, 0, 0)
  circle A0 centre (31.75, -2.2788) radius 2.1082 projected
  circle A1 centre (57.15, 33.3375) radius 2.1082 projected
  circle A2 centre (6.35, -2.2788) radius 2.1082
  circle A3 centre (57.15, -2.2788) radius 2.1082
  circle A4 centre (0, -2.2788) radius 2.1082 projected
  point P0 (0, 0)
  dimension "d257" = 4.2164
  dimension "d258" = 4.2164
  dimension "d259" = 6.35
extrude "Extrusion18" cut sketch "Sketch21" against normal blind 25.4 contours A2 | A3
properties part number "POM 1" material "Acetal Resin, Black"
